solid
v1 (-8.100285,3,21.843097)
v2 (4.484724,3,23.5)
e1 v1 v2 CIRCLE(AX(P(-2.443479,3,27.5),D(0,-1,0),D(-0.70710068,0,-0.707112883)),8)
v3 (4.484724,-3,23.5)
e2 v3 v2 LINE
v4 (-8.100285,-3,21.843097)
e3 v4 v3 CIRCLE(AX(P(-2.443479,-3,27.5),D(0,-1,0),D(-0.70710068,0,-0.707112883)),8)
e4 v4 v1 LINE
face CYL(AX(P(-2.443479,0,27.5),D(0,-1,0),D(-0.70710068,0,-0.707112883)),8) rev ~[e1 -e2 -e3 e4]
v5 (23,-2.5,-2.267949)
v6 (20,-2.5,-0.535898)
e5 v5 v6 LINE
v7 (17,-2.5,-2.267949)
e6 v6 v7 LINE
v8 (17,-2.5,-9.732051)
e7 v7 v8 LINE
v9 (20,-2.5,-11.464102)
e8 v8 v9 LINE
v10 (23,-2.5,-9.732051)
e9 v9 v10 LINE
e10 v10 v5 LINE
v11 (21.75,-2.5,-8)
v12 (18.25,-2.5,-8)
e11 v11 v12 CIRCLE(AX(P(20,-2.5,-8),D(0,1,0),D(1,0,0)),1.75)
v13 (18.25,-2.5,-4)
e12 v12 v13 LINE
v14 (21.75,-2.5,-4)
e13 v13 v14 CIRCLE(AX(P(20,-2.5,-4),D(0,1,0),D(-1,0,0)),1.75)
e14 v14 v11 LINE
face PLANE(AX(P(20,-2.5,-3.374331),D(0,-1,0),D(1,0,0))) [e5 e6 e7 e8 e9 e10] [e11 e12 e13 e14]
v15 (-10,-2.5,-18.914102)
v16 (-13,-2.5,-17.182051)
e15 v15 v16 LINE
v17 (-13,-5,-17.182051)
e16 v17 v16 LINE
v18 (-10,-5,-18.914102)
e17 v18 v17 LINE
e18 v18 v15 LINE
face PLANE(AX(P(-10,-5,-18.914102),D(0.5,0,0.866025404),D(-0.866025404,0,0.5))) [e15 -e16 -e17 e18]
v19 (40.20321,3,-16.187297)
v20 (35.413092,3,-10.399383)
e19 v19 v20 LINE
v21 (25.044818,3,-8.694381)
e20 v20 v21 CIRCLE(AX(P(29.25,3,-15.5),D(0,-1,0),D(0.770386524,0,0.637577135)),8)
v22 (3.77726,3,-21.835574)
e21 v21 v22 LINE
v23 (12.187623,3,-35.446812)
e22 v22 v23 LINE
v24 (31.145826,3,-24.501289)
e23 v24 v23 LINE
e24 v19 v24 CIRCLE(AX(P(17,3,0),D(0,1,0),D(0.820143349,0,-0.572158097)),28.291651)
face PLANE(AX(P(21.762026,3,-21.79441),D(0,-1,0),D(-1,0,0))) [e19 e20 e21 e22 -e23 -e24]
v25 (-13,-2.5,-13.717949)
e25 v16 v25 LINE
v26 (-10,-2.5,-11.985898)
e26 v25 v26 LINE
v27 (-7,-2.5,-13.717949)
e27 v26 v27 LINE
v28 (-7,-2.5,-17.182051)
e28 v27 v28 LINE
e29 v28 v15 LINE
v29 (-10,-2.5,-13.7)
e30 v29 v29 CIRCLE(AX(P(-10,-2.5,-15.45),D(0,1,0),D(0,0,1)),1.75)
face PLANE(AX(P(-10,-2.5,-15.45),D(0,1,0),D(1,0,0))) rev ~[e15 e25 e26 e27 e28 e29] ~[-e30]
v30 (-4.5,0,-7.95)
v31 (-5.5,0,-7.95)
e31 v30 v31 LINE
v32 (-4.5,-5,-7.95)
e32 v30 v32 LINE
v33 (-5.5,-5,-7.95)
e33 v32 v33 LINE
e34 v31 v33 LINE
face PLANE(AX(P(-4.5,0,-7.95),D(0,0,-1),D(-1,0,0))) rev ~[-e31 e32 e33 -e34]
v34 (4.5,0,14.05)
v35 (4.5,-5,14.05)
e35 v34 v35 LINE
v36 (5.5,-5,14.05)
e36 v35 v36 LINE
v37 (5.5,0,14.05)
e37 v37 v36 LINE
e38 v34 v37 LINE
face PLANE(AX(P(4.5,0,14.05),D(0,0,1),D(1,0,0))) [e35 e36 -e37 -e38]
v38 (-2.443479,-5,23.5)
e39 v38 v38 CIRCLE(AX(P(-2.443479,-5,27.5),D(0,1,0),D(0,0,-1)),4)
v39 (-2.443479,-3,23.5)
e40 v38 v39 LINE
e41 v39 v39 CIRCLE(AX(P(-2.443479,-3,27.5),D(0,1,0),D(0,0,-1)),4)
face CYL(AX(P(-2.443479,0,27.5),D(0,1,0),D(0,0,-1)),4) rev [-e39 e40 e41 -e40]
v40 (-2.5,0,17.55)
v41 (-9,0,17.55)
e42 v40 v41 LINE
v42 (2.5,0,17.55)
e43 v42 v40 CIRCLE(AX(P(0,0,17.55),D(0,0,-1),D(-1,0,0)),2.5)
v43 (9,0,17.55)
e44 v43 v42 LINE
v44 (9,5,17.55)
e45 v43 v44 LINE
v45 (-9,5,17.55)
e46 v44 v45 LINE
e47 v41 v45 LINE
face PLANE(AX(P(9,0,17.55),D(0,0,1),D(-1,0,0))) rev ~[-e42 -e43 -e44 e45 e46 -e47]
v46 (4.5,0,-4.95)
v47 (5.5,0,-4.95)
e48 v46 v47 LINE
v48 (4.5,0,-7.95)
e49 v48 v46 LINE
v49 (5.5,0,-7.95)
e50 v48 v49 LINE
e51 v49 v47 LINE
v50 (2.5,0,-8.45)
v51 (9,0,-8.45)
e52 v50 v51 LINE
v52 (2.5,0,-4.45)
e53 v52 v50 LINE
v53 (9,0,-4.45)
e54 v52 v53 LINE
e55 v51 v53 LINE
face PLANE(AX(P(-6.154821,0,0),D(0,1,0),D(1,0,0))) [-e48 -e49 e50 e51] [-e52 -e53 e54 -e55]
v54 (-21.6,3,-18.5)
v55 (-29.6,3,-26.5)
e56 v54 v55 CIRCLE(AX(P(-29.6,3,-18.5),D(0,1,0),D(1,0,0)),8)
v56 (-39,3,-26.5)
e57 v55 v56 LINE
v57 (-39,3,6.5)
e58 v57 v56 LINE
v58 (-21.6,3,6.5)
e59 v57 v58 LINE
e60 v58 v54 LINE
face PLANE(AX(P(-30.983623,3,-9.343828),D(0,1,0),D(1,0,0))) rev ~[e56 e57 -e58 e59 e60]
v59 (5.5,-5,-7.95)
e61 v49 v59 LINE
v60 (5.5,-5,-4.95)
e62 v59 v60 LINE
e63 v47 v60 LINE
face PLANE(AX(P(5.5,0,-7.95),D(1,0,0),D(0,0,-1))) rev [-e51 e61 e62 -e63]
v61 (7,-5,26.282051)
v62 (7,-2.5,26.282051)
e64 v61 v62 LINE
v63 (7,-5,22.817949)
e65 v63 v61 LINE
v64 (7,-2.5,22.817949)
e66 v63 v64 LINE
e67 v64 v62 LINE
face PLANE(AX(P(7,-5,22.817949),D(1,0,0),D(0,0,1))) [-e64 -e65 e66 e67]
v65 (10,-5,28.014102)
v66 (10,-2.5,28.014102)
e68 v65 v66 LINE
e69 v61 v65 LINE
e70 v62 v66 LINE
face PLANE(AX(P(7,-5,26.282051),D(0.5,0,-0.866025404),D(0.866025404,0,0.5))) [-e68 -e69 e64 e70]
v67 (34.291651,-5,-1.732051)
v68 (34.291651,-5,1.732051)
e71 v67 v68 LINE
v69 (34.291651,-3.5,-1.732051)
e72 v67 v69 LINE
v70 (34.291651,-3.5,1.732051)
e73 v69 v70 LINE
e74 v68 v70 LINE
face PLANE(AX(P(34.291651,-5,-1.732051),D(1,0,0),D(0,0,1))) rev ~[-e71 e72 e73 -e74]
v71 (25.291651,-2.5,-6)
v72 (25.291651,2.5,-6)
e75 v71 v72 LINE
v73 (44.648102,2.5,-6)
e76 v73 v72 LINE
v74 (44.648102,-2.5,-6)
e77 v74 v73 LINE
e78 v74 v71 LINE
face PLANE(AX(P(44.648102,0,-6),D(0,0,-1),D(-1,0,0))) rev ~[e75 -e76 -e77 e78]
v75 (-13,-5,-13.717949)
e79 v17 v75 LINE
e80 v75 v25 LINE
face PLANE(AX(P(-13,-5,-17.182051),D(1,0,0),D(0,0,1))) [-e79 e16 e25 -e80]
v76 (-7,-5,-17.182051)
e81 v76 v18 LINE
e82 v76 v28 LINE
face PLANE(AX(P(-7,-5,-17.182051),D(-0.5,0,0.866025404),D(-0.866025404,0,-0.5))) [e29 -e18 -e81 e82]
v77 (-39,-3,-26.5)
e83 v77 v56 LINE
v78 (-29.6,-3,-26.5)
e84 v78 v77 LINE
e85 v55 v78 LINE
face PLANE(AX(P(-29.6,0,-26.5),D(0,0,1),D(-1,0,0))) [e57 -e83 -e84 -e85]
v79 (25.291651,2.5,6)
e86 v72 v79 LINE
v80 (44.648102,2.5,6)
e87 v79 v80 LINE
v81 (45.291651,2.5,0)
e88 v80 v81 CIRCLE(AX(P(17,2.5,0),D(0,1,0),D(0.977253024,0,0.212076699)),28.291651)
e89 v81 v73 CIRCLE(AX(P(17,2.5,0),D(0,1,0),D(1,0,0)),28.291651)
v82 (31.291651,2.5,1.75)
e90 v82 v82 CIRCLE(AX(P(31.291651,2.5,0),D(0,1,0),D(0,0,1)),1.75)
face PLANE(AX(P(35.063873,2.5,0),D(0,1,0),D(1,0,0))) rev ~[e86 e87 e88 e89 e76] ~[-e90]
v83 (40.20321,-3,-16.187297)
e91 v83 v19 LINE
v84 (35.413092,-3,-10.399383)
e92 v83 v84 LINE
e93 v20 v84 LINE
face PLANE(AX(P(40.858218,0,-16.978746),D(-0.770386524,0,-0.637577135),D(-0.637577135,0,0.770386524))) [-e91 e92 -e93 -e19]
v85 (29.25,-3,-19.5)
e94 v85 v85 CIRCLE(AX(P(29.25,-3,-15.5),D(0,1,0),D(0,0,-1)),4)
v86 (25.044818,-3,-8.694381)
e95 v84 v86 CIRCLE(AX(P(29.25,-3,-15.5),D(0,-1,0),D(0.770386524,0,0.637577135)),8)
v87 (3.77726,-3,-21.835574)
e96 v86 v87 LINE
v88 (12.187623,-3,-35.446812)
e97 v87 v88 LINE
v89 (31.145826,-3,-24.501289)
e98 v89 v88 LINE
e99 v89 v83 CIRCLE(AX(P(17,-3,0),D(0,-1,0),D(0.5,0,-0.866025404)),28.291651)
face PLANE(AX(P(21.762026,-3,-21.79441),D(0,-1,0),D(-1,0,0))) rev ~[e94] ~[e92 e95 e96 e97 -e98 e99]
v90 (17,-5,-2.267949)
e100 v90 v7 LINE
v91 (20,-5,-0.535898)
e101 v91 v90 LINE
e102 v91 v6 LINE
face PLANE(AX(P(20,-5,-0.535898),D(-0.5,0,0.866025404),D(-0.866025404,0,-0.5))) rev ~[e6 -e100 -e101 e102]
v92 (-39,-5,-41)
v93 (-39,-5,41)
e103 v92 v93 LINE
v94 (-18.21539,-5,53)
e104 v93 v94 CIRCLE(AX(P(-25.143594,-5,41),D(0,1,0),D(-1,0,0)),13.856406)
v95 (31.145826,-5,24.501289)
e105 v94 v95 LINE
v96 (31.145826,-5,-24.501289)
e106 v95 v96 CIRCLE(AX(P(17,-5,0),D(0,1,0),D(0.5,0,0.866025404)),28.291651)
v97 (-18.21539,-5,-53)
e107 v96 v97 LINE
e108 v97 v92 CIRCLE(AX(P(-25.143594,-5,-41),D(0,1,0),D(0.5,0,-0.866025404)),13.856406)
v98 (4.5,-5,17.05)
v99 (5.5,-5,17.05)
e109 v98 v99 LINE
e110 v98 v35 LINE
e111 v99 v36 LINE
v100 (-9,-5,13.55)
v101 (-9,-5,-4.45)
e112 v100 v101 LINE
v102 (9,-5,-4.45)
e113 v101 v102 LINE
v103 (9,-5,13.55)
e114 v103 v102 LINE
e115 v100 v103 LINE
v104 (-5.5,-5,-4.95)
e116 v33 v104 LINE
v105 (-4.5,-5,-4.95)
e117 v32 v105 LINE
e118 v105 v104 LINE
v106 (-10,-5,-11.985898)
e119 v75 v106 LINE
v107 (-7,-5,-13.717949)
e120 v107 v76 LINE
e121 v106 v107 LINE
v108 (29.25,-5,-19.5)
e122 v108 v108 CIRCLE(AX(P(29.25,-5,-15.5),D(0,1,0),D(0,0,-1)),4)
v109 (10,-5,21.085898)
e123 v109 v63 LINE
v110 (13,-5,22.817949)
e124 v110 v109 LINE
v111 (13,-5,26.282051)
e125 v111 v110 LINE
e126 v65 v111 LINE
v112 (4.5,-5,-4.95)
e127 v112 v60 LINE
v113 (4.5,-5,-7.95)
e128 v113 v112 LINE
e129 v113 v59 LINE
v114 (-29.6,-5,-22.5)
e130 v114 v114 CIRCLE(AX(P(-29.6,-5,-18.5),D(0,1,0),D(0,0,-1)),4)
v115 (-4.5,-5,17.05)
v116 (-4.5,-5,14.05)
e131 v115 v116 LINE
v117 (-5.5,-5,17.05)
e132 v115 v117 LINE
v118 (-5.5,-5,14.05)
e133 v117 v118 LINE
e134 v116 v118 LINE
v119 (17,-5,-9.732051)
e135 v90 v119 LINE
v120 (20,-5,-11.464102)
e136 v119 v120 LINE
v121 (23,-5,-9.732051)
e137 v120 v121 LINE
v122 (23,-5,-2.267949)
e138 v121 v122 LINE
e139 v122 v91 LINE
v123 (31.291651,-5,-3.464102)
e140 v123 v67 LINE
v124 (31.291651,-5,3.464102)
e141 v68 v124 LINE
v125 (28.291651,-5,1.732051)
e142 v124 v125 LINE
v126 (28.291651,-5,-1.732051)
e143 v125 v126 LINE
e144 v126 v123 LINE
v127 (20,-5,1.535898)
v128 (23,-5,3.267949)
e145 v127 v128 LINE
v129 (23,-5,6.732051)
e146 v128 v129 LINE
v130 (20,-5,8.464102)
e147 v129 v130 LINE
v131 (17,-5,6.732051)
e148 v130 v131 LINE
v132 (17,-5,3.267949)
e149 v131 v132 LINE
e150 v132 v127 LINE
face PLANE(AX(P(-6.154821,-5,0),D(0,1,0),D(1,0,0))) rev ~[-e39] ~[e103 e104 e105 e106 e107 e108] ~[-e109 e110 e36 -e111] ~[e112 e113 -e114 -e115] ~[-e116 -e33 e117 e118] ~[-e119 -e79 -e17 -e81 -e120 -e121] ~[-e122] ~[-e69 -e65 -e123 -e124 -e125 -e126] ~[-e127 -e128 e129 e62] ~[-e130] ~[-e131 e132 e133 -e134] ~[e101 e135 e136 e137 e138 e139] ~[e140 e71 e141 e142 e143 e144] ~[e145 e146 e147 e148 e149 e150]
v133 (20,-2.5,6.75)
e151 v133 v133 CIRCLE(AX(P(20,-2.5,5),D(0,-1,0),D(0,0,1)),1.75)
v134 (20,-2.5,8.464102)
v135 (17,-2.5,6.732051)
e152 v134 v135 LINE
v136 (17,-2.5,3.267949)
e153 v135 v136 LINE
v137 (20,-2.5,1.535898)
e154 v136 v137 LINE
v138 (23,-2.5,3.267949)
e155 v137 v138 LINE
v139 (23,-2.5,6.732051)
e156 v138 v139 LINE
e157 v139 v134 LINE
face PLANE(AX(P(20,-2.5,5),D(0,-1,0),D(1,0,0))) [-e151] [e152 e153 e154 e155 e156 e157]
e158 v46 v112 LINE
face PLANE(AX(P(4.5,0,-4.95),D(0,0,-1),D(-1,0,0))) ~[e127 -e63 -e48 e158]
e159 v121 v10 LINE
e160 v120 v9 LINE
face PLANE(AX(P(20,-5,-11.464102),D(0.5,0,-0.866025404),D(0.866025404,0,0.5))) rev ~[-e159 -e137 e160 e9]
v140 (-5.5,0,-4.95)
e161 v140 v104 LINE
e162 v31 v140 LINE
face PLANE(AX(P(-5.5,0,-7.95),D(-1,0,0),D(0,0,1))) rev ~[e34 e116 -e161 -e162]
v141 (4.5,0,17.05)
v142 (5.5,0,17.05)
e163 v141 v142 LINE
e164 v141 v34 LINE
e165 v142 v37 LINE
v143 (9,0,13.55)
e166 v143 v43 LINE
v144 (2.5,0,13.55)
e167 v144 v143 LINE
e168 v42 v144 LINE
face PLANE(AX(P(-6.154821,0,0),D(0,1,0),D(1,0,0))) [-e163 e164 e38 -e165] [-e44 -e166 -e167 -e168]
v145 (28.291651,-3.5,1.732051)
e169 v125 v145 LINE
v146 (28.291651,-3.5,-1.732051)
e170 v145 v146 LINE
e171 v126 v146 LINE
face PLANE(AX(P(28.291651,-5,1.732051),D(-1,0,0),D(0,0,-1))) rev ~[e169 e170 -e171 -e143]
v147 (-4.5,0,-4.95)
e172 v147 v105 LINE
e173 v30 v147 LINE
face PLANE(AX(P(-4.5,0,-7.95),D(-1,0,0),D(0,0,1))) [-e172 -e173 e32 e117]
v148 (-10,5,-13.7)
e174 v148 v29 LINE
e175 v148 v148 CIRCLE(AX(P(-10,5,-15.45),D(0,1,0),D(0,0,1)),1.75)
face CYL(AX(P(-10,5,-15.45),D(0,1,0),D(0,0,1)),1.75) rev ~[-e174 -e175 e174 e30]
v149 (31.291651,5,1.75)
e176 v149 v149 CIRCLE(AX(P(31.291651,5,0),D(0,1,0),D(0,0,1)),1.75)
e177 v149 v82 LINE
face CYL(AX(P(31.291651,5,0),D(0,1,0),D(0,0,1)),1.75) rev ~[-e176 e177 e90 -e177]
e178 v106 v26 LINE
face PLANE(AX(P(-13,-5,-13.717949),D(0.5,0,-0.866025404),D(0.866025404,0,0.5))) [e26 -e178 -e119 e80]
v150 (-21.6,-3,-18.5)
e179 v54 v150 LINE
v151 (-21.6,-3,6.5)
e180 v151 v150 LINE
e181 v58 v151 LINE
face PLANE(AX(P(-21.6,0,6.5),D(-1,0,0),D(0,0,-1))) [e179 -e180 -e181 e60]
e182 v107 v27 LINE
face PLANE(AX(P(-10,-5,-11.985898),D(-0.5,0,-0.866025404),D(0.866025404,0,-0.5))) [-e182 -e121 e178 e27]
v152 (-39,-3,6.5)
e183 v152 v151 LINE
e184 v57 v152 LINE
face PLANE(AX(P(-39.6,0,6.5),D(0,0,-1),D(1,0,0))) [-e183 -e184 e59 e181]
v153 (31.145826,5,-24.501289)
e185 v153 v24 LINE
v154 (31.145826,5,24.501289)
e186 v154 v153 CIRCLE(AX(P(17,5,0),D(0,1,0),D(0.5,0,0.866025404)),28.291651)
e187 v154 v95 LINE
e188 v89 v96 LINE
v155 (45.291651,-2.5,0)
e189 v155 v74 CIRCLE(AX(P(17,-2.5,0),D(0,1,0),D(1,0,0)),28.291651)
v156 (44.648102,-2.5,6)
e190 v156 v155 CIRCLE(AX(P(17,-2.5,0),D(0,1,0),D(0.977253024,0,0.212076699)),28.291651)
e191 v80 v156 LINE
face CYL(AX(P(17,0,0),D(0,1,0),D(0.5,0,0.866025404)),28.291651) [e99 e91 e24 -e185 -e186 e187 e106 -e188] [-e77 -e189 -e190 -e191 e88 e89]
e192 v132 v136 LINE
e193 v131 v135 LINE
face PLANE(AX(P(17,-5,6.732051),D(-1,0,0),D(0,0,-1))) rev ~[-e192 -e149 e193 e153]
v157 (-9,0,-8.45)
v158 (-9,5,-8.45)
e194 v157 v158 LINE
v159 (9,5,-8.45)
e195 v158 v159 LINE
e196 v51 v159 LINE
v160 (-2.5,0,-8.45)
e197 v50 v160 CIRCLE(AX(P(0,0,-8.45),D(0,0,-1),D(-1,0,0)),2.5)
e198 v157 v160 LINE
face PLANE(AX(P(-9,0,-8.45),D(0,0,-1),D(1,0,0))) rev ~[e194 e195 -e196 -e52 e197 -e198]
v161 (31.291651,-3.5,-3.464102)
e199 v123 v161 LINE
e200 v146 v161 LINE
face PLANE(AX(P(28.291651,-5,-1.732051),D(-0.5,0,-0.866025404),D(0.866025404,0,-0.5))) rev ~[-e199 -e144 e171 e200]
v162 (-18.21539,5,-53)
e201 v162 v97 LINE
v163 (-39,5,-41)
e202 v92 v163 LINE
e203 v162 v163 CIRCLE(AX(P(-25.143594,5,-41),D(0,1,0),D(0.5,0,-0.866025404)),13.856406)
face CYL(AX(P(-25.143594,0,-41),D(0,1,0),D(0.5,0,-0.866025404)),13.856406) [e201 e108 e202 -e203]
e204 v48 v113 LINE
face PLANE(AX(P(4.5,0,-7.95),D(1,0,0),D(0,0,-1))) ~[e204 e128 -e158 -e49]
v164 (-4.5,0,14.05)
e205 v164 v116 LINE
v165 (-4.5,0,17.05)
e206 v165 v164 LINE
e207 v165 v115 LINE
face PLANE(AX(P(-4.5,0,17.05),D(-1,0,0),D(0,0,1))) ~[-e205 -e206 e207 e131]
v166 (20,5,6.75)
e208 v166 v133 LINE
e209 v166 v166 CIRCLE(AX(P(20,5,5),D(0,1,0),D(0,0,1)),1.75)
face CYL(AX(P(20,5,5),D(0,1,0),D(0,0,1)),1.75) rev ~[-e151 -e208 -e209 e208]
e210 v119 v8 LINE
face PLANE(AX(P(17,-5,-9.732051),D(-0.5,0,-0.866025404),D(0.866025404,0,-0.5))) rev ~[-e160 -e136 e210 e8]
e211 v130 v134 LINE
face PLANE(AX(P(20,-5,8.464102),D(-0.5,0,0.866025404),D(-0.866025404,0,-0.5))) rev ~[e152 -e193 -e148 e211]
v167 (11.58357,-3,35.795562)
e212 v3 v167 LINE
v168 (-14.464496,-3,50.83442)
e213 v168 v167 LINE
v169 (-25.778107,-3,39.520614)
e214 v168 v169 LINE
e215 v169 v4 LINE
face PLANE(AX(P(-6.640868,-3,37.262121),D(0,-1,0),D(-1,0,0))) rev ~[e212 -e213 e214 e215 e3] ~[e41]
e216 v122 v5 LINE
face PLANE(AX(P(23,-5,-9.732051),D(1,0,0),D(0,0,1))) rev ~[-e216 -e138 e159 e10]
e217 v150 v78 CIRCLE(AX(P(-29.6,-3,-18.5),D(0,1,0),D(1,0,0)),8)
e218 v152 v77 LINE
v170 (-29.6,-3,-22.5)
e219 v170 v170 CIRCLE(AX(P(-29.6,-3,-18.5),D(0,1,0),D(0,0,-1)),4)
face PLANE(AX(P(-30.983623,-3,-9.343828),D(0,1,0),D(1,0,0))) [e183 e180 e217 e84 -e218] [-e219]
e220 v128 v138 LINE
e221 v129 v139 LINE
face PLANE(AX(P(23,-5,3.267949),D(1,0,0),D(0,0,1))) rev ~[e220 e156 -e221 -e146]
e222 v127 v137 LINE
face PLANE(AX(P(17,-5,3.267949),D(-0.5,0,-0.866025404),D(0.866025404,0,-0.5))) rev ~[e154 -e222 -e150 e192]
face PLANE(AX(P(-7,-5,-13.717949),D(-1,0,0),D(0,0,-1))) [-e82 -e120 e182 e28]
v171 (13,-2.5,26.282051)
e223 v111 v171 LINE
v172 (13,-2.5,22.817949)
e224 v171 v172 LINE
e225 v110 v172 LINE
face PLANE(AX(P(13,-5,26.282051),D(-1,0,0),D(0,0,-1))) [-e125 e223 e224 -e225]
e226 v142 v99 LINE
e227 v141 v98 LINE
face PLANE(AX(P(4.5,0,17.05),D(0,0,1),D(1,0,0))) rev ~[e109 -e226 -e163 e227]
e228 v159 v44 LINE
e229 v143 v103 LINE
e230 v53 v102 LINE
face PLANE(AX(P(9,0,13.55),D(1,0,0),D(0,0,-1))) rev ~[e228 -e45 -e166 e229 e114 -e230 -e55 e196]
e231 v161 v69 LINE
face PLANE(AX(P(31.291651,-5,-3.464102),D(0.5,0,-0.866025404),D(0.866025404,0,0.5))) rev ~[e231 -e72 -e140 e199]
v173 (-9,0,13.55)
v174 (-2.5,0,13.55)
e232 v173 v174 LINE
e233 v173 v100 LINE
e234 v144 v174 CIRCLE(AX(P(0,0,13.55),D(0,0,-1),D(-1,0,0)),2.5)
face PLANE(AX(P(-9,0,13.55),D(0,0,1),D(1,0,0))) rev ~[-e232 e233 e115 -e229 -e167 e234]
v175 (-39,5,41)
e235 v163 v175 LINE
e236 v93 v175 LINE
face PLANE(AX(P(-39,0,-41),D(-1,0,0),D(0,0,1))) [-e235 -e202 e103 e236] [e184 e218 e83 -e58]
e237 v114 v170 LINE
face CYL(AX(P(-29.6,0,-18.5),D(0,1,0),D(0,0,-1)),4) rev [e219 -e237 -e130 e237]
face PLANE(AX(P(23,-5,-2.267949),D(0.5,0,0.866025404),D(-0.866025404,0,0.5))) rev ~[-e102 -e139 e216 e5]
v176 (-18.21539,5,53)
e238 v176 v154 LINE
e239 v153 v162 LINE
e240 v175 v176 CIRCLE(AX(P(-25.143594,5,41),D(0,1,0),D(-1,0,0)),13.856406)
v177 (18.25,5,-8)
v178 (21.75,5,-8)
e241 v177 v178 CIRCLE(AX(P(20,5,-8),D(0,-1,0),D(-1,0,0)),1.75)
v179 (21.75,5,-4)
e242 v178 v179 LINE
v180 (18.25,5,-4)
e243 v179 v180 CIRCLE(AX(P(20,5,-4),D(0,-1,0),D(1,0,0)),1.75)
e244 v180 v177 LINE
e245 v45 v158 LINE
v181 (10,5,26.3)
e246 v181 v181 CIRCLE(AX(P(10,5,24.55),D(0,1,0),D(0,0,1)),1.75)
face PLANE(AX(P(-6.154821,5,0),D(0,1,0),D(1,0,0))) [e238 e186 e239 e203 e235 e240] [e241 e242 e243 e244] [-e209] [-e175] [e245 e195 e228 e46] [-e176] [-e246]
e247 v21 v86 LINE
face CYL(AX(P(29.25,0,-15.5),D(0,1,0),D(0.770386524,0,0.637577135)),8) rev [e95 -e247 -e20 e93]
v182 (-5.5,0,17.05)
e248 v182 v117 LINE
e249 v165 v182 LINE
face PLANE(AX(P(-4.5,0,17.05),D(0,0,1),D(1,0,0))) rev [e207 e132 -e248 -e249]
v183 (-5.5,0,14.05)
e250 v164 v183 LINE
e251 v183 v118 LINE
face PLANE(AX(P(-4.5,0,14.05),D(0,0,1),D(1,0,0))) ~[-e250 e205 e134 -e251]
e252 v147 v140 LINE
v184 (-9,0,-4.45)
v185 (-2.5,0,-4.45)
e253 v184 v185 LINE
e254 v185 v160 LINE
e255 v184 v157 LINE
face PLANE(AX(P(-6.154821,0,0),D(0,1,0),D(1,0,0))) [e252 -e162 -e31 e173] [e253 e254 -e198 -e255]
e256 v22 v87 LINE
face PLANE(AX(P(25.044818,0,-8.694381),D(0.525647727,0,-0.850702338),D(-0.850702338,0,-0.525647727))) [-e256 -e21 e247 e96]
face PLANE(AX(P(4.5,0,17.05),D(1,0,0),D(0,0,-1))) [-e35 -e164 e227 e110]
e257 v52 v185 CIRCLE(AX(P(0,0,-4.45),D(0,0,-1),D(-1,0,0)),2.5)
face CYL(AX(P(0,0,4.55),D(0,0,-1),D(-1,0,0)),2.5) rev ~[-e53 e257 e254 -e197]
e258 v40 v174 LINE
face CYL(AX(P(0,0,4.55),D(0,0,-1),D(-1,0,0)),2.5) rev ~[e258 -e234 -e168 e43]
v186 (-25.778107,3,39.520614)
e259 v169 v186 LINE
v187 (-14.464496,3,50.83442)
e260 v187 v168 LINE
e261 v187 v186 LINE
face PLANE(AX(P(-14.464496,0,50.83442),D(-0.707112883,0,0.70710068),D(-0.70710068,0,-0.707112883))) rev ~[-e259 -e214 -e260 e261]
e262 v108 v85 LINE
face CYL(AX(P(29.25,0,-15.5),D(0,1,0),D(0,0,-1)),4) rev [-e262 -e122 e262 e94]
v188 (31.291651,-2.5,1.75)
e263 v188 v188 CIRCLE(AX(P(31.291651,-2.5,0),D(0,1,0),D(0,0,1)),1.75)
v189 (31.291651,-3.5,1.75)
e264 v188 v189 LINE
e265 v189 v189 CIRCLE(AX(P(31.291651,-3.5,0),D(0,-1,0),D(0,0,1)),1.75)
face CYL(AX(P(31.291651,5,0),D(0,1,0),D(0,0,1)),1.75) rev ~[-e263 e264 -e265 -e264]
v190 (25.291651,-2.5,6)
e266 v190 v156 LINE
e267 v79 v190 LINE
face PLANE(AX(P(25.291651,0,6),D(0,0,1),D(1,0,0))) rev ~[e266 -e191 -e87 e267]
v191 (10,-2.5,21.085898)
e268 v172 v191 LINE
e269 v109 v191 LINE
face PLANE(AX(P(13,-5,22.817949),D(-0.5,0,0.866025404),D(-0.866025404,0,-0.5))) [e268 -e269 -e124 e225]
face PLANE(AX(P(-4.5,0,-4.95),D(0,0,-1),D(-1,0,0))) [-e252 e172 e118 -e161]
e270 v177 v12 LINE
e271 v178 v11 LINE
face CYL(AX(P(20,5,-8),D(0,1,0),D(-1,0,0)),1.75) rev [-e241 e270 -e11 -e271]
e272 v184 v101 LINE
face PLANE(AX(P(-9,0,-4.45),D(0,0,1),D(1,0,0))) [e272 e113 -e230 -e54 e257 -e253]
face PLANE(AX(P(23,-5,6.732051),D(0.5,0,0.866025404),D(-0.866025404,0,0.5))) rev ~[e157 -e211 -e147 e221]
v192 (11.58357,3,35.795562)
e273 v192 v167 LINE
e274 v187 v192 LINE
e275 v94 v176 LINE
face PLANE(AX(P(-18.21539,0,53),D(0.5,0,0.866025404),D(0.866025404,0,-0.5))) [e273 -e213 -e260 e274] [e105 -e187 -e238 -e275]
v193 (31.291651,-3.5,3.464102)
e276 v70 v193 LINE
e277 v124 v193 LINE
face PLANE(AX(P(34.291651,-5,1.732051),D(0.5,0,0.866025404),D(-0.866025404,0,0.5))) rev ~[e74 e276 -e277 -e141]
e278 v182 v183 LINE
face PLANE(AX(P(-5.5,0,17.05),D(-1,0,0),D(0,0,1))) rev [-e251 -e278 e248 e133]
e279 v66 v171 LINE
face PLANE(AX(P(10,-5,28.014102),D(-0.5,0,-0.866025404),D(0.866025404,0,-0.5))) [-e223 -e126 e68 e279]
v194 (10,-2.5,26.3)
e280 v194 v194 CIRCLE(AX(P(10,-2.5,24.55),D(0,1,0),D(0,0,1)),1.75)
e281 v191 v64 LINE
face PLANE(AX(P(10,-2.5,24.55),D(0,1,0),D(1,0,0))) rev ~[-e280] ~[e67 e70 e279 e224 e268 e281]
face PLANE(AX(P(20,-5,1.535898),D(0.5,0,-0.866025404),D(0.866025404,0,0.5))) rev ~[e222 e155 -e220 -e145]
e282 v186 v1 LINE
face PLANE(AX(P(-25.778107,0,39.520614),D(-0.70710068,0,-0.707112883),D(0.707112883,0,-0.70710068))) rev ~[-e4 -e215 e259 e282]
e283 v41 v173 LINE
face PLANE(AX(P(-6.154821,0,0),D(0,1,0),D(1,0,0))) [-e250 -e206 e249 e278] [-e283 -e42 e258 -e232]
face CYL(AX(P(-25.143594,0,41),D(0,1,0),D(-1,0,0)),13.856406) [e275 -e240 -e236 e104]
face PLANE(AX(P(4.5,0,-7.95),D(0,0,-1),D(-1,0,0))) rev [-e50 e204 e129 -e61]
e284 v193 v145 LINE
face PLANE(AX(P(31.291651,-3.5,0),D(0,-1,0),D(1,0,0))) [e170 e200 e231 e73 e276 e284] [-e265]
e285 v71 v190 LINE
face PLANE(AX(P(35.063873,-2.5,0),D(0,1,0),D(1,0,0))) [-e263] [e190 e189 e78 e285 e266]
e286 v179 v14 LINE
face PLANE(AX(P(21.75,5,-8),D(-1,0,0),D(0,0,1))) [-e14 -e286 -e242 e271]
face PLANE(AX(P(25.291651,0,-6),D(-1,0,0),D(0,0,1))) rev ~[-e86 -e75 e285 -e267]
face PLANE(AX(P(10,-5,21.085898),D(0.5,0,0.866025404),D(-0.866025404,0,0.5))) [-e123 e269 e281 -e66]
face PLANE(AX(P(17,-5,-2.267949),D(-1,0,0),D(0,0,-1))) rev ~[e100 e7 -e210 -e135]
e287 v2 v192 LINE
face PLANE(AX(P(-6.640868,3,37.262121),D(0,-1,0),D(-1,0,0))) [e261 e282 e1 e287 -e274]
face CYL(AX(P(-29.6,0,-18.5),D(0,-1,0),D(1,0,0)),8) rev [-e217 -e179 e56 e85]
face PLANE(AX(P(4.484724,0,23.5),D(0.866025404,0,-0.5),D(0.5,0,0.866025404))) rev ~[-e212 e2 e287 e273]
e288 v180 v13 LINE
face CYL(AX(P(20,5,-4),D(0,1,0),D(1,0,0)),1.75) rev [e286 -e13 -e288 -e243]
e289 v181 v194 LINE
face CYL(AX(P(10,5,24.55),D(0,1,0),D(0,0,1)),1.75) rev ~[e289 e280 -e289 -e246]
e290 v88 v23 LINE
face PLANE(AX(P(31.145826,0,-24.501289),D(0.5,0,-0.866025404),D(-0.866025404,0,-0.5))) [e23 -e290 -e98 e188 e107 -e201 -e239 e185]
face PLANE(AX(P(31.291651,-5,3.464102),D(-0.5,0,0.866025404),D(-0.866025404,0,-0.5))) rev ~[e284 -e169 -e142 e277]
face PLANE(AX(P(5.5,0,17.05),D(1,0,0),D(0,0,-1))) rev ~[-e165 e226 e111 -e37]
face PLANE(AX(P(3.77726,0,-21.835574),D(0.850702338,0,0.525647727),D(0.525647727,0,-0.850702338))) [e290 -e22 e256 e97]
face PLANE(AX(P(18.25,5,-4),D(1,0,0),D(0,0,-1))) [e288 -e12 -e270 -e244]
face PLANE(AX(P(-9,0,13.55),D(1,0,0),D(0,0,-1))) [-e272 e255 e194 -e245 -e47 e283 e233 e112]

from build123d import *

# Parameters (mm, degrees)
BOSS_EXTRUDE1_DEPTH              = 5
MAINSKETCH_19_W                  = 18
MAINSKETCH_19_H                  = 18
BOSS_EXTRUDE2_DEPTH              = 5
CUT_EXTRUDE1_START               = 9
SKETCH1_R                        = 2.5
CUT_EXTRUDE1_DEPTH               = 13
SKETCH2_W                        = 1
SKETCH2_H                        = 3
CUT_EXTRUDE2_DEPTH               = 6
MIRROR2_COPY_1_SKETCH_W          = 1
MIRROR2_COPY_1_SKETCH_H          = 3
MIRROR2_COPY_1_DEPTH             = 6
HOLESKETCH_R                     = 4
CUT_EXTRUDE3_DEPTH               = 6
CUT_EXTRUDE3_DEPTH_BACK          = 2
CUT_EXTRUDE4_DEPTH               = 3
SCHNITT_LINEAR_AUSTRAGEN2_DEPTH  = 2.5
SKIZZE3_R                        = 1.75
SCHNITT_LINEAR_AUSTRAGEN3_DEPTH  = 11
SKIZZE4_R                        = 1.75
SCHNITT_LINEAR_AUSTRAGEN4_DEPTH  = 1.5
SKIZZE6_R                        = 1.75
SCHNITT_LINEAR_AUSTRAGEN6_DEPTH  = 11
SKIZZE7_R                        = 1.75
SCHNITT_LINEAR_AUSTRAGEN7_DEPTH  = 2.5
SKIZZE8_R                        = 1.75
SCHNITT_LINEAR_AUSTRAGEN8_DEPTH  = 11
SKIZZE9_R                        = 1.75
SCHNITT_LINEAR_AUSTRAGEN10_DEPTH = 2.5


with BuildPart() as part:
    # mainSketch → Boss-Extrude1 (new body)
    with BuildSketch(Plane(origin=(0, 0, 0), x_dir=(1, 0, 0), z_dir=(0, 1, 0))):
        with BuildLine():
            ThreePointArc((-18.215390309, 53), (-32.07179677, 53), (-39, 41))
            Line((-39, 41), (-39, -41))
            ThreePointArc((-39, -41), (-32.07179677, -53), (-18.215390309, -53))
            Line((-18.215390309, -53), (31.145825623, -24.501288694))
            ThreePointArc((31.145825623, -24.501288694), (45.291651246, 0), (31.145825623, 24.501288694))
            Line((31.145825623, 24.501288694), (-18.215390309, 53))
        make_face()
        Polygon((-9, -13.55), (-9, 4.45), (-9, 8.45), (9, 8.45), (9, 4.45), (9, -13.55), (9, -17.55), (-9, -17.55), align=None, mode=Mode.SUBTRACT)
    extrude(amount=BOSS_EXTRUDE1_DEPTH)

    # mainSketch_19 → Boss-Extrude2 (add)
    with BuildSketch(Plane(origin=(0, 0, 0), x_dir=(1, 0, 0), z_dir=(0, 1, 0))):
        with BuildLine():
            ThreePointArc((-18.215390309, 53), (-32.07179677, 53), (-39, 41))
            Line((-39, 41), (-39, -41))
            ThreePointArc((-39, -41), (-32.07179677, -53), (-18.215390309, -53))
            Line((-18.215390309, -53), (31.145825623, -24.501288694))
            ThreePointArc((31.145825623, -24.501288694), (45.291651246, 0), (31.145825623, 24.501288694))
            Line((31.145825623, 24.501288694), (-18.215390309, 53))
        make_face()
        with Locations((0, -4.55)):
            Rectangle(MAINSKETCH_19_W, MAINSKETCH_19_H, mode=Mode.SUBTRACT)
    extrude(amount=-BOSS_EXTRUDE2_DEPTH)

    # Sketch1 → Cut-Extrude1 (cut, symmetric)
    with BuildSketch(Plane(origin=(0, 0, 13.55), x_dir=(-1, 0, 0), z_dir=(0, 0, -1)).offset(CUT_EXTRUDE1_START)):
        Circle(SKETCH1_R)
    extrude(amount=CUT_EXTRUDE1_DEPTH, both=True, mode=Mode.SUBTRACT)

    # Sketch2 → Cut-Extrude2 (cut, through all)
    with BuildSketch(Plane(origin=(0, 0, 0), x_dir=(1, 0, 0), z_dir=(0, 1, 0))):
        with Locations((5, -15.55)):
            Rectangle(SKETCH2_W, SKETCH2_H)
    cut_extrude2 = extrude(amount=-CUT_EXTRUDE2_DEPTH, mode=Mode.SUBTRACT)

    # Mirror1: Cut-Extrude2 across plane
    add(cut_extrude2.mirror(Plane(origin=(0, 0, 0), x_dir=(0, 0, 1), z_dir=(1, 0, 0))), mode=Mode.SUBTRACT)

    # Mirror2: Cut-Extrude2 across plane
    add(cut_extrude2.mirror(Plane(origin=(0, 0, 4.55), x_dir=(1, 0, 0), z_dir=(0, 0, -1))), mode=Mode.SUBTRACT)

    # Mirror2 copy 1 sketch → Mirror2 copy 1 (cut, through all)
    with BuildSketch(Plane(origin=(0, 0, 9.1), x_dir=(-1, 0, 0), z_dir=(0, 1, 0))):
        with Locations((5, -15.55)):
            Rectangle(MIRROR2_COPY_1_SKETCH_W, MIRROR2_COPY_1_SKETCH_H)
    extrude(amount=-MIRROR2_COPY_1_DEPTH, mode=Mode.SUBTRACT)

    # holeSketch → Cut-Extrude3 (cut, two sides)
    with BuildSketch(Plane.XZ) as cut_extrude3_sk:
        with Locations(Location((29.25, -15.5, 0), (0, 0, 270))):  # turned: the seam where the file's is
            Circle(HOLESKETCH_R)
        with Locations(Location((-2.443479184, 27.5, 0), (0, 0, 270))):  # turned: the seam where the file's is
            Circle(HOLESKETCH_R)
        with Locations(Location((-29.6, -18.5, 0), (0, 0, 270))):  # turned: the seam where the file's is
            Circle(HOLESKETCH_R)
    extrude(amount=CUT_EXTRUDE3_DEPTH, mode=Mode.SUBTRACT)
    extrude(cut_extrude3_sk.sketch, amount=-CUT_EXTRUDE3_DEPTH_BACK, mode=Mode.SUBTRACT)

    # Sketch3 → Cut-Extrude4 (cut, symmetric)
    with BuildSketch(Plane(origin=(0, 0, 0), x_dir=(1, 0, 0), z_dir=(0, 1, 0))):
        with BuildLine():
            Line((-29.6, 26.5), (-39, 26.5))
            Line((-39, 26.5), (-39.6, 26.5))
            Line((-39.6, 26.5), (-39.6, -6.5))
            Line((-39.6, -6.5), (-37.6, -6.5))
            Line((-37.6, -6.5), (-21.6, -6.5))
            Line((-21.6, -6.5), (-21.6, 18.5))
            ThreePointArc((-21.6, 18.5), (-23.943145751, 24.156854249), (-29.6, 26.5))
        make_face()
        with BuildLine():
            Line((4.484724046, -23.5), (11.583570163, -35.79556215))
            Line((11.583570163, -35.79556215), (-8.960116539, -56.33889432))
            Line((-8.960116539, -56.33889432), (-14.464495813, -50.834420053))
            Line((-14.464495813, -50.834420053), (-25.778106688, -39.520613931))
            Line((-25.778106688, -39.520613931), (-8.100284622, -21.843096939))
            ThreePointArc((-8.100284622, -21.843096939), (-1.399235427, -19.568445614), (4.484724046, -23.5))
        make_face()
        with BuildLine():
            Line((40.858217841, 16.978745932), (35.413092194, 10.399382918))
            ThreePointArc((35.413092194, 10.399382918), (30.548118213, 7.606021972), (25.044818187, 8.694381298))
            Line((25.044818187, 8.694381298), (3.777259743, 21.835574464))
            Line((3.777259743, 21.835574464), (12.187623369, 35.446811868))
            Line((12.187623369, 35.446811868), (14.338041609, 38.927024434))
            Line((14.338041609, 38.927024434), (40.858217841, 16.978745932))
        make_face()
    extrude(amount=CUT_EXTRUDE4_DEPTH, both=True, mode=Mode.SUBTRACT)

    # Skizze2 → Schnitt-Linear austragen2 (cut, symmetric)
    with BuildSketch(Plane(origin=(0, 0, 0), x_dir=(1, 0, 0), z_dir=(0, 1, 0))):
        with BuildLine():
            ThreePointArc((45.291651246, 0), (45.130303789, 3.017207151), (44.648101747, 6))
            Line((44.648101747, 6), (25.291651246, 6))
            Line((25.291651246, 6), (25.291651246, -6))
            Line((25.291651246, -6), (44.648101747, -6))
            ThreePointArc((44.648101747, -6), (45.130303789, -3.017207151), (45.291651246, 0))
        make_face()
    extrude(amount=SCHNITT_LINEAR_AUSTRAGEN2_DEPTH, both=True, mode=Mode.SUBTRACT)

    # Skizze3 → Schnitt-Linear austragen3 (cut, through all)
    with BuildSketch(Plane(origin=(0, 5, 0), x_dir=(1, 0, 0), z_dir=(0, 1, 0))):
        with Locations(Location((31.291651246, 0, 0), (0, 0, 270))):  # turned: the seam where the file's is
            Circle(SKIZZE3_R)
    extrude(amount=-SCHNITT_LINEAR_AUSTRAGEN3_DEPTH, mode=Mode.SUBTRACT)

    # Skizze4 → Schnitt-Linear austragen4 (cut)
    with BuildSketch(Plane.XZ.offset(5)):
        Polygon((34.291651246, 1.732050808), (31.291651246, 3.464101615), (28.291651246, 1.732050808), (28.291651246, -1.732050808), (31.291651246, -3.464101615), (34.291651246, -1.732050808), align=None)
        with Locations(Location((31.291651246, 0, 0), (0, 0, 90))):  # turned: the seam where the file's is
            Circle(SKIZZE4_R, mode=Mode.SUBTRACT)
    extrude(amount=-SCHNITT_LINEAR_AUSTRAGEN4_DEPTH, mode=Mode.SUBTRACT)

    # Skizze6 → Schnitt-Linear austragen6 (cut, through all)
    with BuildSketch(Plane(origin=(0, 5, 0), x_dir=(1, 0, 0), z_dir=(0, 1, 0))):
        with Locations(Location((20, -5, 0), (0, 0, 270))):  # turned: the seam where the file's is
            Circle(SKIZZE6_R)
        with BuildLine():
            Line((18.25, 4), (18.25, 8))
            ThreePointArc((18.25, 8), (20, 9.75), (21.75, 8))
            Line((21.75, 8), (21.75, 4))
            ThreePointArc((21.75, 4), (20, 2.25), (18.25, 4))
        make_face()
    extrude(amount=-SCHNITT_LINEAR_AUSTRAGEN6_DEPTH, mode=Mode.SUBTRACT)

    # Skizze7 → Schnitt-Linear austragen7 (cut)
    with BuildSketch(Plane.XZ.offset(5)):
        Polygon((23, 3.267949192), (23, 6.732050808), (20, 8.464101615), (17, 6.732050808), (17, 3.267949192), (20, 1.535898385), align=None)
        with Locations(Location((20, 5, 0), (0, 0, 90))):  # turned: the seam where the file's is
            Circle(SKIZZE7_R, mode=Mode.SUBTRACT)
        with BuildLine():
            Line((17, -2.267949192), (17, -5.732050808))
            Line((17, -5.732050808), (17.464101615, -6))
            Line((17.464101615, -6), (18.25, -5.546261356))
            Line((18.25, -5.546261356), (18.25, -4))
            ThreePointArc((18.25, -4), (20, -2.25), (21.75, -4))
            Line((21.75, -4), (21.75, -5.546261356))
            Line((21.75, -5.546261356), (22.535898385, -6))
            Line((22.535898385, -6), (23, -5.732050808))
            Line((23, -5.732050808), (23, -2.267949192))
            Line((23, -2.267949192), (20, -0.535898385))
            Line((20, -0.535898385), (17, -2.267949192))
        make_face()
        with BuildLine():
            Line((17.464101615, -6), (17, -6.267949192))
            Line((17, -6.267949192), (17, -9.732050808))
            Line((17, -9.732050808), (20, -11.464101615))
            Line((20, -11.464101615), (23, -9.732050808))
            Line((23, -9.732050808), (23, -6.267949192))
            Line((23, -6.267949192), (22.535898385, -6))
            Line((22.535898385, -6), (21.75, -6.453738644))
            Line((21.75, -6.453738644), (21.75, -8))
            ThreePointArc((21.75, -8), (20, -9.75), (18.25, -8))
            Line((18.25, -8), (18.25, -6.453738644))
            Line((18.25, -6.453738644), (17.464101615, -6))
        make_face()
        Polygon((17.464101615, -6), (17, -5.732050808), (17, -6.267949192), align=None)
        Polygon((18.25, -5.546261356), (17.464101615, -6), (18.25, -6.453738644), align=None)
        Polygon((21.75, -5.546261356), (21.75, -6.453738644), (22.535898385, -6), align=None)
        Polygon((23, -6.267949192), (23, -5.732050808), (22.535898385, -6), align=None)
    extrude(amount=-SCHNITT_LINEAR_AUSTRAGEN7_DEPTH, mode=Mode.SUBTRACT)

    # Skizze8 → Schnitt-Linear austragen8 (cut, through all)
    with BuildSketch(Plane(origin=(0, 5, 0), x_dir=(1, 0, 0), z_dir=(0, 1, 0))):
        with Locations(Location((-10, 15.45, 0), (0, 0, 270))):  # turned: the seam where the file's is
            Circle(SKIZZE8_R)
        with Locations(Location((10, -24.55, 0), (0, 0, 270))):  # turned: the seam where the file's is
            Circle(SKIZZE8_R)
    extrude(amount=-SCHNITT_LINEAR_AUSTRAGEN8_DEPTH, mode=Mode.SUBTRACT)

    # Skizze9 → Schnitt-Linear austragen10 (cut)
    with BuildSketch(Plane(origin=(0, -5, 0), x_dir=(1, 0, 0), z_dir=(0, 1, 0))):
        Polygon((-10, 18.914101615), (-13, 17.182050808), (-13, 13.717949192), (-10, 11.985898385), (-7, 13.717949192), (-7, 17.182050808), align=None)
        with Locations(Location((-10, 15.45, 0), (0, 0, 270))):  # turned: the seam where the file's is
            Circle(SKIZZE9_R, mode=Mode.SUBTRACT)
        Polygon((13, -26.282050808), (13, -22.817949192), (10, -21.085898385), (7, -22.817949192), (7, -26.282050808), (10, -28.014101615), align=None)
        with Locations(Location((10, -24.55, 0), (0, 0, 270))):  # turned: the seam where the file's is
            Circle(SKIZZE9_R, mode=Mode.SUBTRACT)
    extrude(amount=SCHNITT_LINEAR_AUSTRAGEN10_DEPTH, mode=Mode.SUBTRACT)


solid = part.part
